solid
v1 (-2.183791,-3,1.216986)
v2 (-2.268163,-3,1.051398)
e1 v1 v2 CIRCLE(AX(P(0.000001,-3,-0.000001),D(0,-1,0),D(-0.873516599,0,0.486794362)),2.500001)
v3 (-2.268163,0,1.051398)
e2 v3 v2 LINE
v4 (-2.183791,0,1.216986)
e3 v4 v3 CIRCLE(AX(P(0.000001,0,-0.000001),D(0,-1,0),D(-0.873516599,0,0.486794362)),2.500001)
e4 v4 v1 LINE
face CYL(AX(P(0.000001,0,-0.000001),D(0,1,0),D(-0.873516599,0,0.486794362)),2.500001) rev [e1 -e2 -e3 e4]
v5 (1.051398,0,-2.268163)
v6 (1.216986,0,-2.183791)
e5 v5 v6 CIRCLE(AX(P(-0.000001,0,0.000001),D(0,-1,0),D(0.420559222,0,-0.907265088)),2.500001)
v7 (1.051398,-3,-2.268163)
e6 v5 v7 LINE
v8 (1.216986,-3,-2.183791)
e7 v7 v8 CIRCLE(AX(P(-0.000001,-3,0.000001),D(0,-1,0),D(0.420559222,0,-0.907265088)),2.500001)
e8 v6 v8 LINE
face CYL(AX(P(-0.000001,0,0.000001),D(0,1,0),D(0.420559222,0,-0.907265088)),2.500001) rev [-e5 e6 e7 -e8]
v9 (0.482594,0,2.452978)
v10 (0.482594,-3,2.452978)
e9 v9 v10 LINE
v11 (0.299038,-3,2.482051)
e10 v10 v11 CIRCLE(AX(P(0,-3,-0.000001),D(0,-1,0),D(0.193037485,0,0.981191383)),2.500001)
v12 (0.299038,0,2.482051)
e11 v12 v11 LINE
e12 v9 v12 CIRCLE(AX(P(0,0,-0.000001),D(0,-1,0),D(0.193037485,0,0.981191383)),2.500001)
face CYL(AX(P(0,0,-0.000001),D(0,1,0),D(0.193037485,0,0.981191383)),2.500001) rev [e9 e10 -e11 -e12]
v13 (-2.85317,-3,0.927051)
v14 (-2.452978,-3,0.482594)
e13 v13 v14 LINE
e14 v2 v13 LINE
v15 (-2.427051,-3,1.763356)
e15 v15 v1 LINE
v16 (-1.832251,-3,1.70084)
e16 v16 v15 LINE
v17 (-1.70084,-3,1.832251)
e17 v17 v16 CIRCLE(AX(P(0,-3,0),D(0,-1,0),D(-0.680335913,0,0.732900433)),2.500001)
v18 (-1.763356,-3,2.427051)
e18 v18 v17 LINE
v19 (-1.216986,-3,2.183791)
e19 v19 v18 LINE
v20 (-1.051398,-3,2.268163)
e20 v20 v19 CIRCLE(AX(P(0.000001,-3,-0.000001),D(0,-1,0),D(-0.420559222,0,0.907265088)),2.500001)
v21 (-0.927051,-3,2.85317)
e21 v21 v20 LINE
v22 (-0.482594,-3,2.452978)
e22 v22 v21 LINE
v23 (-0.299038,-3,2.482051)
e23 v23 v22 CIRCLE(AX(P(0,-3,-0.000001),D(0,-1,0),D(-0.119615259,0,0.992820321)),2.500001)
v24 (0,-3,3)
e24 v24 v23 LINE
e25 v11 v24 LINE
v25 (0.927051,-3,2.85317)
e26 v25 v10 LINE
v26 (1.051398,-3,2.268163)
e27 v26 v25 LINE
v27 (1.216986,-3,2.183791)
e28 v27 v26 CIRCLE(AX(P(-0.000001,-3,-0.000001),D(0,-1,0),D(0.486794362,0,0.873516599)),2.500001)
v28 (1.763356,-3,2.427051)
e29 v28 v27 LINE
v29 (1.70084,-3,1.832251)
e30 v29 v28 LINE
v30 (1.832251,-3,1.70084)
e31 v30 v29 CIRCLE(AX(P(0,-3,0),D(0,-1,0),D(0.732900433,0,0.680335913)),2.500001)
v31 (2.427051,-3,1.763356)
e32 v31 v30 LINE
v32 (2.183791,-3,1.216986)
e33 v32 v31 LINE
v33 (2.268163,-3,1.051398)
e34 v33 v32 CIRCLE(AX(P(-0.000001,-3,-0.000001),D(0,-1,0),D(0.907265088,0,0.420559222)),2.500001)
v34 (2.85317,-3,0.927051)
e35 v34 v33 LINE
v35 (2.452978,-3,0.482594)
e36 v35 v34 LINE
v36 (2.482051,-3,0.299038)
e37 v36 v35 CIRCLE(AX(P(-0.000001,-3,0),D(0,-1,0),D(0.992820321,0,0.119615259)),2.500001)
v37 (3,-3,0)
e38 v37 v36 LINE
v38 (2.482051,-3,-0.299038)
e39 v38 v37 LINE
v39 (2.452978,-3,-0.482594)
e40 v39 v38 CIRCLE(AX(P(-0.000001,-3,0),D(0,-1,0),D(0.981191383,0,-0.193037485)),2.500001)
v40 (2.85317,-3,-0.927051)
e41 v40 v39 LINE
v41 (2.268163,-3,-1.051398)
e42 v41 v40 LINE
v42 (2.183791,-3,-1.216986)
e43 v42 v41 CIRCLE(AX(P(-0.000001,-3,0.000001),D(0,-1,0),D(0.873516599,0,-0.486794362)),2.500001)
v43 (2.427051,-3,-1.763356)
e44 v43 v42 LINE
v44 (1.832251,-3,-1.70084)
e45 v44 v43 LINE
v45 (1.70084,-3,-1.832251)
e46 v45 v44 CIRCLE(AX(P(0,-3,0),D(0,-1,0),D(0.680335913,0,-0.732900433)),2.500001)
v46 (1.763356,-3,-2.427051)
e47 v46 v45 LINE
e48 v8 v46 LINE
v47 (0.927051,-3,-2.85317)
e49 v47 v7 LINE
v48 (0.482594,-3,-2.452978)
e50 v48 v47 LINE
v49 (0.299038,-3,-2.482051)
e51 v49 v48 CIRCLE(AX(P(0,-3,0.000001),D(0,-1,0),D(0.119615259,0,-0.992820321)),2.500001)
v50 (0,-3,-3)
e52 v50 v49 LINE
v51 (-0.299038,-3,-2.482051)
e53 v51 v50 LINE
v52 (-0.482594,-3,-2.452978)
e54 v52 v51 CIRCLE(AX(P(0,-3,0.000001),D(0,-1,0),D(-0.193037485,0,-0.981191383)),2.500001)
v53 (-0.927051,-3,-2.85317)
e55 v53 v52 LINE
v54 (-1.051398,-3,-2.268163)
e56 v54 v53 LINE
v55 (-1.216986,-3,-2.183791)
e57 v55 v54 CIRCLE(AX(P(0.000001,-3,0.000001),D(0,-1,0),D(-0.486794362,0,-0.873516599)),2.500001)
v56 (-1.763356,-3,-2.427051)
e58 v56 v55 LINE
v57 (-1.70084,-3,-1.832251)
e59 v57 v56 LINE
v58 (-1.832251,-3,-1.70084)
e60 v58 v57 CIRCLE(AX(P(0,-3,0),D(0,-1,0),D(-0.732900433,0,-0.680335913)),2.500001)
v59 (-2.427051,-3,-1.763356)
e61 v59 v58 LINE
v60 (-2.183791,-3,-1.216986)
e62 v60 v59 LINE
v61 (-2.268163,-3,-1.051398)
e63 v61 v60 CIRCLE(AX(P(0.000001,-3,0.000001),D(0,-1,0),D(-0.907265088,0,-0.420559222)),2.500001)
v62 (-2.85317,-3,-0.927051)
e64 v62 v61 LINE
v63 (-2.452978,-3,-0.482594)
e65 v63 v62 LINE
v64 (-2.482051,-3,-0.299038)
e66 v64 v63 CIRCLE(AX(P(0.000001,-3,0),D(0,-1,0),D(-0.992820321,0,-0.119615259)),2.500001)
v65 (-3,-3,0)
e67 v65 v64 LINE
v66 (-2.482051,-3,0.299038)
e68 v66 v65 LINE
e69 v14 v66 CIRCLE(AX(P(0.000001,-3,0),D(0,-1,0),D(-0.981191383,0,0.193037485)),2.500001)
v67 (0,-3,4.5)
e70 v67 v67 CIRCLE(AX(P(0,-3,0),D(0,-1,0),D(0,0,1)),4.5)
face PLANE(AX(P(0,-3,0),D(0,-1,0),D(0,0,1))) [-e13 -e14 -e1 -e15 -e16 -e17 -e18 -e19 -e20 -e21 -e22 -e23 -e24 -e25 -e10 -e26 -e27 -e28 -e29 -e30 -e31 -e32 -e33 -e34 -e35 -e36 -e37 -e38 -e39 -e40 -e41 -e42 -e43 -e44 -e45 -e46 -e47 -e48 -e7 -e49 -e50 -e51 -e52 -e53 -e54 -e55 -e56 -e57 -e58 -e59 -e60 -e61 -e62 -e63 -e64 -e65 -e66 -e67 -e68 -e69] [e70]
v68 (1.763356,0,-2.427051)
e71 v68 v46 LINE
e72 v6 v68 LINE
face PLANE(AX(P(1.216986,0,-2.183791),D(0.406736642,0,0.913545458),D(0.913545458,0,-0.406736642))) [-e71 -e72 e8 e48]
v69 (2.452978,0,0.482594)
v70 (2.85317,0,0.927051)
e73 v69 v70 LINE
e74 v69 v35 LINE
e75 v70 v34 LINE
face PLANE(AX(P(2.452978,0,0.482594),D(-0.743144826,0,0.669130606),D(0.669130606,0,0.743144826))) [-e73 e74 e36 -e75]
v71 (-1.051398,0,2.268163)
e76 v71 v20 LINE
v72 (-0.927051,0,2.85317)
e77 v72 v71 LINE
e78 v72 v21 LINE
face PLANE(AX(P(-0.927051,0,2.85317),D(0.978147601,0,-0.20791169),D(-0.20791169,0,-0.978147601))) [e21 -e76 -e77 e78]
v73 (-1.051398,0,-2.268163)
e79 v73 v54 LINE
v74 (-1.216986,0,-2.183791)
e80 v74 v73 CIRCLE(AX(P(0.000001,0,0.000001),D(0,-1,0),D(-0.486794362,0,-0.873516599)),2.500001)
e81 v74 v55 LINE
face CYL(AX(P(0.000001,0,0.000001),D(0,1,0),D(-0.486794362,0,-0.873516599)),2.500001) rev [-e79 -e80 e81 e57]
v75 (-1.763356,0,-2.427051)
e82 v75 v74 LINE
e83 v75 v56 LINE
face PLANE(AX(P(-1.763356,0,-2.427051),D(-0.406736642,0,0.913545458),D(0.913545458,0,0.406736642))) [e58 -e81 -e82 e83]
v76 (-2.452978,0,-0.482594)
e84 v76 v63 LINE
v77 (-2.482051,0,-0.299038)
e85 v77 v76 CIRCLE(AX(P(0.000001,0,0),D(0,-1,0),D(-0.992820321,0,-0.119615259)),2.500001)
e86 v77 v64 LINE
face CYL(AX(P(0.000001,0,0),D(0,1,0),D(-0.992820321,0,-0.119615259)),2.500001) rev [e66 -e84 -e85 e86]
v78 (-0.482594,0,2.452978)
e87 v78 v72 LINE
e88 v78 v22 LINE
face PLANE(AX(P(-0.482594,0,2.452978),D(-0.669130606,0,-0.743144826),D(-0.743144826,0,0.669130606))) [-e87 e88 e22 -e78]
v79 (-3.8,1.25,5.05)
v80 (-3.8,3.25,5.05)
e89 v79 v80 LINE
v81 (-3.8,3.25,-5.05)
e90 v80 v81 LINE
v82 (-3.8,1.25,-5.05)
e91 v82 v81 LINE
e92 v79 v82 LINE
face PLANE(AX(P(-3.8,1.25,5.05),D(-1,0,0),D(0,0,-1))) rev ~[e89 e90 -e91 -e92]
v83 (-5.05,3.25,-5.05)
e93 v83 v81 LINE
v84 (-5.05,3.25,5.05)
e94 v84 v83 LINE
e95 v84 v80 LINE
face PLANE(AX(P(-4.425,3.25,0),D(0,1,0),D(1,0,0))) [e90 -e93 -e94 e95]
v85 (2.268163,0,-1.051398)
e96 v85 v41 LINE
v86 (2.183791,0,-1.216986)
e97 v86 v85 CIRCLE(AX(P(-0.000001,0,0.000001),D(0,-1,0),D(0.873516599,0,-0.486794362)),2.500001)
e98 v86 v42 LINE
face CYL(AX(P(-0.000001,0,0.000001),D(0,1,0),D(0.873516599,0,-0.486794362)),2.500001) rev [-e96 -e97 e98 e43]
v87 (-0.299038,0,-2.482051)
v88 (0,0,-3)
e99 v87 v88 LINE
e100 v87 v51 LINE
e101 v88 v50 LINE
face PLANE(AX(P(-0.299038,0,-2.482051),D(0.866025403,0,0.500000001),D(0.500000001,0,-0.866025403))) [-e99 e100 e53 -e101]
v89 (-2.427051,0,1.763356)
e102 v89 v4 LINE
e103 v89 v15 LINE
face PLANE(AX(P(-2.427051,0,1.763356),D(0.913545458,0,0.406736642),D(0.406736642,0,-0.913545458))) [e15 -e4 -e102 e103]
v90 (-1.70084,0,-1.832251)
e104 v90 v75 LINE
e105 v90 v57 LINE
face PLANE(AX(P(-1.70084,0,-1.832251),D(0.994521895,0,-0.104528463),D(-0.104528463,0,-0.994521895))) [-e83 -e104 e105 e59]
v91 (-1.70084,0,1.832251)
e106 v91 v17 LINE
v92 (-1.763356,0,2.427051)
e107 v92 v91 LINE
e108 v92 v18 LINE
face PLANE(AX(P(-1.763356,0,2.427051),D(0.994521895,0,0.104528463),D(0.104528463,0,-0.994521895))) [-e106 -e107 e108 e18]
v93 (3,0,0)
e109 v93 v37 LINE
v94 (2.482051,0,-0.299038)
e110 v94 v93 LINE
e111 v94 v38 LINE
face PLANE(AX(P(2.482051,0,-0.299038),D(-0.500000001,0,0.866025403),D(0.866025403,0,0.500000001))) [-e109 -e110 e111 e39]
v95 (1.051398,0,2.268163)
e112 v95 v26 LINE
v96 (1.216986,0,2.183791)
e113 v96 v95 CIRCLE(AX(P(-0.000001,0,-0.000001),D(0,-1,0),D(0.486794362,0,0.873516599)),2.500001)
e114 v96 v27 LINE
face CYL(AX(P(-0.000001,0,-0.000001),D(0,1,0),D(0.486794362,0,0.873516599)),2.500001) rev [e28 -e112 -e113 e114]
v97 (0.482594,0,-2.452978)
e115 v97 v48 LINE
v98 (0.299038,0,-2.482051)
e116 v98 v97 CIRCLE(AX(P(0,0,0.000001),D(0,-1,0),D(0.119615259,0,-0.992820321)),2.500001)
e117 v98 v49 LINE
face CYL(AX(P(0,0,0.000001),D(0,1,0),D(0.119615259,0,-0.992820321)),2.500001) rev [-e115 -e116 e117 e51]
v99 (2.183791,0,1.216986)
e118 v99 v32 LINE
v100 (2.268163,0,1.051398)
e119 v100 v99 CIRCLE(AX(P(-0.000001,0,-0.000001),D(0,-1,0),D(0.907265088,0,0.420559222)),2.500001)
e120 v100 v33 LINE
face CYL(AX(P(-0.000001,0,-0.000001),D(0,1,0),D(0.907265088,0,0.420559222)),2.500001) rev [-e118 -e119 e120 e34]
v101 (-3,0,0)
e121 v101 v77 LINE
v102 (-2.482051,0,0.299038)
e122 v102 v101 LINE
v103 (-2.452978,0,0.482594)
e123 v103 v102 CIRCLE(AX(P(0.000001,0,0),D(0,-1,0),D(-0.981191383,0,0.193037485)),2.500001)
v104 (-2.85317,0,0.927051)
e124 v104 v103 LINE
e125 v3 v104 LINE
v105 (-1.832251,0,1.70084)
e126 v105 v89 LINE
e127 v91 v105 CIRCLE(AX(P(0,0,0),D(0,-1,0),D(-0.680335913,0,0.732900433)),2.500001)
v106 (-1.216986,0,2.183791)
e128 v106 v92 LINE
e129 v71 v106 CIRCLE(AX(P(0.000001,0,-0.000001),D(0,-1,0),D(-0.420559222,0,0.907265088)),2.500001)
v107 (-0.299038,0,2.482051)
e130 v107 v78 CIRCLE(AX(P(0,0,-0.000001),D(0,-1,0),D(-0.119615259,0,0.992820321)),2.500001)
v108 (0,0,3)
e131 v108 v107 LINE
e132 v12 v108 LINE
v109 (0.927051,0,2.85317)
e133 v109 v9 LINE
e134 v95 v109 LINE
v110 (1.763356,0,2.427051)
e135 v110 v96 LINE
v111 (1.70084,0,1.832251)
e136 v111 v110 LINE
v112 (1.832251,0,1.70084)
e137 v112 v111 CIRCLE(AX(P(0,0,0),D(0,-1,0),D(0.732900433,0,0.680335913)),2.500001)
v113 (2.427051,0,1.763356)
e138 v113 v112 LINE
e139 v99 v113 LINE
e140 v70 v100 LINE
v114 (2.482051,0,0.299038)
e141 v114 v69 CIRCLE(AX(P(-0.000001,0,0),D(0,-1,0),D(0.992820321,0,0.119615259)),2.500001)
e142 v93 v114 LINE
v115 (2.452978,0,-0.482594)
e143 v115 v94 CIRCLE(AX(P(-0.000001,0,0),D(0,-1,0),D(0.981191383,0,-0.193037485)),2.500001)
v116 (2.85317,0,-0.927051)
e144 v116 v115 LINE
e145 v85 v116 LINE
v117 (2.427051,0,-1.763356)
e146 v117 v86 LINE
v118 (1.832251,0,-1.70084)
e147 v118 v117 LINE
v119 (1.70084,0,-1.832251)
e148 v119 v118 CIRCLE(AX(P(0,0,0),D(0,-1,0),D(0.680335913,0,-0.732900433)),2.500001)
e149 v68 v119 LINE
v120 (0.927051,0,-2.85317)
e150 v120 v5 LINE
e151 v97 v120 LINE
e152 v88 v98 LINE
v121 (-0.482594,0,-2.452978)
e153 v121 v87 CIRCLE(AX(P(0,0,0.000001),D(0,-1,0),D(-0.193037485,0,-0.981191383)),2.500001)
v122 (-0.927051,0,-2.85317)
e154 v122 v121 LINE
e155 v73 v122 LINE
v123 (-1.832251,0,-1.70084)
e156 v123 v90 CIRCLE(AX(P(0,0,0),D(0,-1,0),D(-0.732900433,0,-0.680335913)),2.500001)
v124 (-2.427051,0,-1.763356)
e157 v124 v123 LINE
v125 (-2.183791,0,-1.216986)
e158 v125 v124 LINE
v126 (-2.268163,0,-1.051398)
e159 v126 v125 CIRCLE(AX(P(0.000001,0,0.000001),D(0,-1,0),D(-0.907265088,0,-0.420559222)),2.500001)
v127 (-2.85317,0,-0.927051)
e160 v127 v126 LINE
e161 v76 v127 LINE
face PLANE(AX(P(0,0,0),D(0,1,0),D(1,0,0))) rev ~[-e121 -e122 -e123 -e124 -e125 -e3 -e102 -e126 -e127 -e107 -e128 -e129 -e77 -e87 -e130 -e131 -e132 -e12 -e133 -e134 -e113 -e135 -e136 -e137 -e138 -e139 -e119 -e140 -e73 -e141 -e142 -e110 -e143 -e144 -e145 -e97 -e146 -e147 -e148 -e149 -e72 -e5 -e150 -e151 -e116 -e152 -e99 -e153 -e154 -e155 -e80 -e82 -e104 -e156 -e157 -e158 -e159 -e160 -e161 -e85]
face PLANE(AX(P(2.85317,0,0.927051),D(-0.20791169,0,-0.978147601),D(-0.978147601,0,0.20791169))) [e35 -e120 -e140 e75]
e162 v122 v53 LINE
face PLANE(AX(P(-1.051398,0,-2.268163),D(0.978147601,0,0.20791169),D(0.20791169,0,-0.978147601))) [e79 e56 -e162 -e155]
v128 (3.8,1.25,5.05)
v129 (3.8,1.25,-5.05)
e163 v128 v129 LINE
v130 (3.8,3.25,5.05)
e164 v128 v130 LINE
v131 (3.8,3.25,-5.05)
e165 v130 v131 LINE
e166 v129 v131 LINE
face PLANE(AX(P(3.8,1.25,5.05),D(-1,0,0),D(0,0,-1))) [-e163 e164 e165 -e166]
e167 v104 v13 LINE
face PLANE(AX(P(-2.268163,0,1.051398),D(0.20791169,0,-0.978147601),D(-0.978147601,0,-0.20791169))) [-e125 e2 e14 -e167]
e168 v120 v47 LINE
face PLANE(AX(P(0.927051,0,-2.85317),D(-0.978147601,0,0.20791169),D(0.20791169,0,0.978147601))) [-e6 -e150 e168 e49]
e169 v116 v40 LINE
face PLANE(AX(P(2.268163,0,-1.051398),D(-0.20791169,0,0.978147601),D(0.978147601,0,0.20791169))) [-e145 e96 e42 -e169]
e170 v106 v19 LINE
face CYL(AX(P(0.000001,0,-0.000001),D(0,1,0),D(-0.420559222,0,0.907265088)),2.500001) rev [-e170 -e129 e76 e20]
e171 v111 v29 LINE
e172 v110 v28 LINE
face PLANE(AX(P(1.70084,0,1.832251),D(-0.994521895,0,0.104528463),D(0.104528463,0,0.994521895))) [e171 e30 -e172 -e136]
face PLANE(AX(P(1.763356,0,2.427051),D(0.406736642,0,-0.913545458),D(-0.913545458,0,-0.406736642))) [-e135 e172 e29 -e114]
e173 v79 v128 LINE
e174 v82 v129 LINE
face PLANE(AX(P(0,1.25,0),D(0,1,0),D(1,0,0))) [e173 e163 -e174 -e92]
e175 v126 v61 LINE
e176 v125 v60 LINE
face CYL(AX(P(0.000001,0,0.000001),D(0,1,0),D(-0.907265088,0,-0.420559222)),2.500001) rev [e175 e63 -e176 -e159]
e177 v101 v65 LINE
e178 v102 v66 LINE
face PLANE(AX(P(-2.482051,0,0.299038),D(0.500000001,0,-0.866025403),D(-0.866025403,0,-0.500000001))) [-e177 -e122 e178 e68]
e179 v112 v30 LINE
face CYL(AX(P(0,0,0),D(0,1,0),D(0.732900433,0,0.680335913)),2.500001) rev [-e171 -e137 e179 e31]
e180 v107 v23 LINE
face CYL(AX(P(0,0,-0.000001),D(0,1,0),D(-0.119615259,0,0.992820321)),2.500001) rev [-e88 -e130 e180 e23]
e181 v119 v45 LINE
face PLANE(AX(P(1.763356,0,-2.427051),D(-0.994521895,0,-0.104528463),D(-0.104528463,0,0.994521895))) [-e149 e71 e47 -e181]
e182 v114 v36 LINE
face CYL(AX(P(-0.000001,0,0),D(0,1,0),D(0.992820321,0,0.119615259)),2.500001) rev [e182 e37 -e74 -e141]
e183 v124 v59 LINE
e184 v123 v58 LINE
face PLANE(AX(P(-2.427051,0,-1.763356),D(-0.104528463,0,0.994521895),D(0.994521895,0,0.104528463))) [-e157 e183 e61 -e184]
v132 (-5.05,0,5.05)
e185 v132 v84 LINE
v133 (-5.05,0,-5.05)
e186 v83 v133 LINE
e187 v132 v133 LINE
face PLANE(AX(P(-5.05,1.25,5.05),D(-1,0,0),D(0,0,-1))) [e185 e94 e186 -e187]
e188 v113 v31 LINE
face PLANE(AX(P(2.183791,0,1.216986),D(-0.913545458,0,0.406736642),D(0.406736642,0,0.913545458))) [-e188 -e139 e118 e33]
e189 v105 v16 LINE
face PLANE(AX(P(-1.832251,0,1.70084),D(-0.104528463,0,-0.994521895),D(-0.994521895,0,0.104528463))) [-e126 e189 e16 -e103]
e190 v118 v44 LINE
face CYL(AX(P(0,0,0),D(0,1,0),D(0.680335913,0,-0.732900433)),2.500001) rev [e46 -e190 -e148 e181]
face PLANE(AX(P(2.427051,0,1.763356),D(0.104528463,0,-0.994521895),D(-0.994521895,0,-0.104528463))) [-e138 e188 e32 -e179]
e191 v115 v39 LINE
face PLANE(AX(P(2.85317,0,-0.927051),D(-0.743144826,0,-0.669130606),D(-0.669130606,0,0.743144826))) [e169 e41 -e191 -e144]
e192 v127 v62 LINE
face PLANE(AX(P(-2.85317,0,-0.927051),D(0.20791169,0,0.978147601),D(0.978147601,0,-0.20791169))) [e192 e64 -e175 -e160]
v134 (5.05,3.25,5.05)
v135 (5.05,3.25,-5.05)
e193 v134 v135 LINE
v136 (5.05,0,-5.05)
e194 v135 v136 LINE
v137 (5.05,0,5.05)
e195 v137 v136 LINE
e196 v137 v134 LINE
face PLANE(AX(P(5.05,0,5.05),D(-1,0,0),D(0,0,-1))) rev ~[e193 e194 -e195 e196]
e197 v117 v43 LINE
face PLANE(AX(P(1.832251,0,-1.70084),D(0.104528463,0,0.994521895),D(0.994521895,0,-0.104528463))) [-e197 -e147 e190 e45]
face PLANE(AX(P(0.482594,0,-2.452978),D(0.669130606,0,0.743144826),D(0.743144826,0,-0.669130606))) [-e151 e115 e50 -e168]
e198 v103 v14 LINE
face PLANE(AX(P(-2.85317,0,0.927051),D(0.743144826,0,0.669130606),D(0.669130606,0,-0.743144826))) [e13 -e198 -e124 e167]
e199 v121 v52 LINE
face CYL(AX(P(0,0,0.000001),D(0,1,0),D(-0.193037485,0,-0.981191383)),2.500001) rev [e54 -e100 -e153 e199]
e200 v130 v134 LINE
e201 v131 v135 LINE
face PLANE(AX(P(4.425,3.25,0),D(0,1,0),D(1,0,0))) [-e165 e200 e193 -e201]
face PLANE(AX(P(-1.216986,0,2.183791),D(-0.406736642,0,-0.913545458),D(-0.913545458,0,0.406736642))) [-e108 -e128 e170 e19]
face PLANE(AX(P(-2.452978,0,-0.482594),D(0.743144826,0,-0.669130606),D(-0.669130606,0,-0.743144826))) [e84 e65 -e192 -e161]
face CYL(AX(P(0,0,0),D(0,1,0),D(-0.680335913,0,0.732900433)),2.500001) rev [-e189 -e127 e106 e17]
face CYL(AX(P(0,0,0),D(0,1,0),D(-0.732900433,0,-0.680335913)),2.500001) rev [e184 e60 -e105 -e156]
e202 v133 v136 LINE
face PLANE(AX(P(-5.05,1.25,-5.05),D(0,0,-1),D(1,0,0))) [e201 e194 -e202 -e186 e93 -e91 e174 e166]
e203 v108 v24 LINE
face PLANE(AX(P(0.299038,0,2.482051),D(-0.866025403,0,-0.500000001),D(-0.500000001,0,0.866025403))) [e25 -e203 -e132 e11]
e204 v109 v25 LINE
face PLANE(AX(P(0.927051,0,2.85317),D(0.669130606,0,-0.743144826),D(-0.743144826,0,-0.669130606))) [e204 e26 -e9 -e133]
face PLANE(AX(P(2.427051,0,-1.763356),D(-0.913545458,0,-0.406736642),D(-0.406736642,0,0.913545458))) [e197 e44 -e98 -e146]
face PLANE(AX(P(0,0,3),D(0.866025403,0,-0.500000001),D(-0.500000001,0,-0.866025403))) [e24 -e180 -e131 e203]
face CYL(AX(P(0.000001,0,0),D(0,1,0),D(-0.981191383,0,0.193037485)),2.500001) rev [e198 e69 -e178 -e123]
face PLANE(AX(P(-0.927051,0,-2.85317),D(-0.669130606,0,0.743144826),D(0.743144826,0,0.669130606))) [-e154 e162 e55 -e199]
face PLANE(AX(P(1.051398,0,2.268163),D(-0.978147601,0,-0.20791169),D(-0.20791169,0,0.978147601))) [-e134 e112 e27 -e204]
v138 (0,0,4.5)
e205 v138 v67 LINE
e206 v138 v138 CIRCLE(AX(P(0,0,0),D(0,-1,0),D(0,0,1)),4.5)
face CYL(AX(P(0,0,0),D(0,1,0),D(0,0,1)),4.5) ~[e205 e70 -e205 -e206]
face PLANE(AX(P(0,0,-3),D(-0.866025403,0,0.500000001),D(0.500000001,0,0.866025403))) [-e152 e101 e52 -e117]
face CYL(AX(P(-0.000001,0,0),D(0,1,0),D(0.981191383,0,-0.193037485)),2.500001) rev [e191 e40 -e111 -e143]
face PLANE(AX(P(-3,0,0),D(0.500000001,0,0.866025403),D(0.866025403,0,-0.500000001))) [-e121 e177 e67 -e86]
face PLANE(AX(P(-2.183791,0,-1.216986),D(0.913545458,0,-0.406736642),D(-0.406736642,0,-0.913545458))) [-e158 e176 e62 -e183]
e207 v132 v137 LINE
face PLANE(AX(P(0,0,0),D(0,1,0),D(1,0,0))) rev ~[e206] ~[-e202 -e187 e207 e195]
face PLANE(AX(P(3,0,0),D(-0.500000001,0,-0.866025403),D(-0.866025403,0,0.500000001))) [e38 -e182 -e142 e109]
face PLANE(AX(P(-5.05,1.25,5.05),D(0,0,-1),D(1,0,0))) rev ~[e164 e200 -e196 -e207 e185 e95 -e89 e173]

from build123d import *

# Parameters (mm, degrees)
SKETCH1_R           = 0.5
SKETCH1_R_2         = 1.375
BOSS_EXTRUDE1_DEPTH = 2
SKETCH4_R           = 4.5
SKETCH4_R_2         = 2.5
BOSS_EXTRUDE3_DEPTH = 3
CUT_EXTRUDE3_START  = -3
CUT_EXTRUDE3_DEPTH  = 3
SKETCH6_W           = 34.029642768
SKETCH6_H           = 33.796563024
CUT_EXTRUDE4_DEPTH  = 22.43595111
SKETCH7_W           = 10.1
SKETCH7_H           = 10.1
BOSS_EXTRUDE4_DEPTH = 1.25
SKETCH8_W           = 1.25
SKETCH8_H           = 10.1
BOSS_EXTRUDE5_DEPTH = 2


with BuildPart() as part:
    # Sketch1 → Boss-Extrude1 (new body)
    with BuildSketch(Plane(origin=(0, 0, 0), x_dir=(1, 0, 0), z_dir=(0, 1, 0))):
        with BuildLine():
            Line((-4, 4), (-2.467435953, 13.402193757))
            ThreePointArc((-2.467435953, 13.402193757), (0, 15.5), (2.467435953, 13.402193757))
            Line((2.467435953, 13.402193757), (4, 4))
            Line((4, 4), (12.448472752, 2.459445505))
            ThreePointArc((12.448472752, 2.459445505), (14.5, 0), (12.448472752, -2.459445505))
            Line((12.448472752, -2.459445505), (4, -4))
            Line((4, -4), (2.467435953, -13.402193757))
            ThreePointArc((2.467435953, -13.402193757), (0, -15.5), (-2.467435953, -13.402193757))
            Line((-2.467435953, -13.402193757), (-4, -4))
            Line((-4, -4), (-12.448472752, -2.459445505))
            ThreePointArc((-12.448472752, -2.459445505), (-14.5, 0), (-12.448472752, 2.459445505))
            Line((-12.448472752, 2.459445505), (-4, 4))
        make_face()
        with Locations(Location((0, 12, 0), (0, 0, 270))):
            Circle(SKETCH1_R, mode=Mode.SUBTRACT)
        with Locations(Location((0, 9.5, 0), (0, 0, 270))):
            Circle(SKETCH1_R, mode=Mode.SUBTRACT)
        with Locations(Location((0, 7.5, 0), (0, 0, 270))):
            Circle(SKETCH1_R, mode=Mode.SUBTRACT)
        with Locations(Location((12, 0, 0), (0, 0, 270))):
            Circle(SKETCH1_R, mode=Mode.SUBTRACT)
        with Locations(Location((9.5, 0, 0), (0, 0, 270))):
            Circle(SKETCH1_R, mode=Mode.SUBTRACT)
        with Locations(Location((7.5, 0, 0), (0, 0, 270))):
            Circle(SKETCH1_R, mode=Mode.SUBTRACT)
        with Locations(Location((0, -12, 0), (0, 0, 270))):
            Circle(SKETCH1_R, mode=Mode.SUBTRACT)
        with Locations(Location((0, -9.5, 0), (0, 0, 270))):
            Circle(SKETCH1_R, mode=Mode.SUBTRACT)
        with Locations(Location((0, -7.5, 0), (0, 0, 270))):
            Circle(SKETCH1_R, mode=Mode.SUBTRACT)
        with Locations(Location((-12, 0, 0), (0, 0, 270))):
            Circle(SKETCH1_R, mode=Mode.SUBTRACT)
        with Locations(Location((-9.5, 0, 0), (0, 0, 270))):
            Circle(SKETCH1_R, mode=Mode.SUBTRACT)
        with Locations(Location((-7.5, 0, 0), (0, 0, 270))):
            Circle(SKETCH1_R, mode=Mode.SUBTRACT)
        with Locations(Location((0, 0, 0), (0, 0, 270))):
            Circle(SKETCH1_R_2, mode=Mode.SUBTRACT)
    extrude(amount=BOSS_EXTRUDE1_DEPTH)

    # Sketch4 → Boss-Extrude3 (add)
    with BuildSketch(Plane.XZ):
        with Locations(Location((0, 0, 0), (0, 0, 90))):
            Circle(SKETCH4_R)
        with Locations(Location((0, 0, 0), (0, 0, 270))):
            Circle(SKETCH4_R_2, mode=Mode.SUBTRACT)
    extrude(amount=BOSS_EXTRUDE3_DEPTH)

    # Sketch5 → Cut-Extrude3 (cut)
    with BuildSketch(Plane.XZ.offset(3).offset(CUT_EXTRUDE3_START)):
        with BuildLine():
            Line((0.299038106, 2.482050808), (0, 3))
            Line((0, 3), (-0.299038106, 2.482050808))
            ThreePointArc((-0.299038106, 2.482050808), (-0.391086163, 2.469220851), (-0.482593741, 2.452978451))
            Line((-0.482593741, 2.452978451), (-0.927050983, 2.853169549))
            Line((-0.927050983, 2.853169549), (-1.051398019, 2.268162738))
            ThreePointArc((-1.051398019, 2.268162738), (-1.134976249, 2.22751631), (-1.216985951, 2.183791473))
            Line((-1.216985951, 2.183791473), (-1.763355757, 2.427050983))
            Line((-1.763355757, 2.427050983), (-1.70083977, 1.832251096))
            ThreePointArc((-1.70083977, 1.832251096), (-1.767766953, 1.767766953), (-1.832251096, 1.70083977))
            Line((-1.832251096, 1.70083977), (-2.427050983, 1.763355757))
            Line((-2.427050983, 1.763355757), (-2.183791473, 1.216985951))
            ThreePointArc((-2.183791473, 1.216985951), (-2.22751631, 1.134976249), (-2.268162738, 1.051398019))
            Line((-2.268162738, 1.051398019), (-2.853169549, 0.927050983))
            Line((-2.853169549, 0.927050983), (-2.452978451, 0.482593741))
            ThreePointArc((-2.452978451, 0.482593741), (-2.469220851, 0.391086163), (-2.482050808, 0.299038106))
            Line((-2.482050808, 0.299038106), (-3, 0))
            Line((-3, 0), (-2.482050808, -0.299038106))
            ThreePointArc((-2.482050808, -0.299038106), (-2.469220851, -0.391086163), (-2.452978451, -0.482593741))
            Line((-2.452978451, -0.482593741), (-2.853169549, -0.927050983))
            Line((-2.853169549, -0.927050983), (-2.268162738, -1.051398019))
            ThreePointArc((-2.268162738, -1.051398019), (-2.22751631, -1.134976249), (-2.183791473, -1.216985951))
            Line((-2.183791473, -1.216985951), (-2.427050983, -1.763355757))
            Line((-2.427050983, -1.763355757), (-1.832251096, -1.70083977))
            ThreePointArc((-1.832251096, -1.70083977), (-1.767766953, -1.767766953), (-1.70083977, -1.832251096))
            Line((-1.70083977, -1.832251096), (-1.763355757, -2.427050983))
            Line((-1.763355757, -2.427050983), (-1.216985951, -2.183791473))
            ThreePointArc((-1.216985951, -2.183791473), (-1.134976249, -2.22751631), (-1.051398019, -2.268162738))
            Line((-1.051398019, -2.268162738), (-0.927050983, -2.853169549))
            Line((-0.927050983, -2.853169549), (-0.482593741, -2.452978451))
            ThreePointArc((-0.482593741, -2.452978451), (-0.391086163, -2.469220851), (-0.299038106, -2.482050808))
            Line((-0.299038106, -2.482050808), (0, -3))
            Line((0, -3), (0.299038106, -2.482050808))
            ThreePointArc((0.299038106, -2.482050808), (0.391086163, -2.469220851), (0.482593741, -2.452978451))
            Line((0.482593741, -2.452978451), (0.927050983, -2.853169549))
            Line((0.927050983, -2.853169549), (1.051398019, -2.268162738))
            ThreePointArc((1.051398019, -2.268162738), (1.134976249, -2.22751631), (1.216985951, -2.183791473))
            Line((1.216985951, -2.183791473), (1.763355757, -2.427050983))
            Line((1.763355757, -2.427050983), (1.70083977, -1.832251096))
            ThreePointArc((1.70083977, -1.832251096), (1.767766953, -1.767766953), (1.832251096, -1.70083977))
            Line((1.832251096, -1.70083977), (2.427050983, -1.763355757))
            Line((2.427050983, -1.763355757), (2.183791473, -1.216985951))
            ThreePointArc((2.183791473, -1.216985951), (2.22751631, -1.134976249), (2.268162738, -1.051398019))
            Line((2.268162738, -1.051398019), (2.853169549, -0.927050983))
            Line((2.853169549, -0.927050983), (2.452978451, -0.482593741))
            ThreePointArc((2.452978451, -0.482593741), (2.469220851, -0.391086163), (2.482050808, -0.299038106))
            Line((2.482050808, -0.299038106), (3, 0))
            Line((3, 0), (2.482050808, 0.299038106))
            ThreePointArc((2.482050808, 0.299038106), (2.469220851, 0.391086163), (2.452978451, 0.482593741))
            Line((2.452978451, 0.482593741), (2.853169549, 0.927050983))
            Line((2.853169549, 0.927050983), (2.268162738, 1.051398019))
            ThreePointArc((2.268162738, 1.051398019), (2.22751631, 1.134976249), (2.183791473, 1.216985951))
            Line((2.183791473, 1.216985951), (2.427050983, 1.763355757))
            Line((2.427050983, 1.763355757), (1.832251096, 1.70083977))
            ThreePointArc((1.832251096, 1.70083977), (1.767766953, 1.767766953), (1.70083977, 1.832251096))
            Line((1.70083977, 1.832251096), (1.763355757, 2.427050983))
            Line((1.763355757, 2.427050983), (1.216985951, 2.183791473))
            ThreePointArc((1.216985951, 2.183791473), (1.134976249, 2.22751631), (1.051398019, 2.268162738))
            Line((1.051398019, 2.268162738), (0.927050983, 2.853169549))
            Line((0.927050983, 2.853169549), (0.482593741, 2.452978451))
            ThreePointArc((0.482593741, 2.452978451), (0.391086163, 2.469220851), (0.299038106, 2.482050808))
        make_face()
    extrude(amount=CUT_EXTRUDE3_DEPTH, mode=Mode.SUBTRACT)

    # Sketch6 → Cut-Extrude4 (cut, through all)
    with BuildSketch(Plane(origin=(0, 0, 0), x_dir=(-1, 0, 0), z_dir=(0, -1, 0))):
        Rectangle(SKETCH6_W, SKETCH6_H)
    extrude(amount=-CUT_EXTRUDE4_DEPTH, mode=Mode.SUBTRACT)

    # Sketch7 → Boss-Extrude4 (add)
    with BuildSketch(Plane(origin=(0, 0, 0), x_dir=(1, 0, 0), z_dir=(0, 1, 0))):
        Rectangle(SKETCH7_W, SKETCH7_H)
    extrude(amount=BOSS_EXTRUDE4_DEPTH)

    # Sketch8 → Boss-Extrude5 (add)
    with BuildSketch(Plane(origin=(0, 1.25, 0), x_dir=(1, 0, 0), z_dir=(0, 1, 0))):
        with Locations((-4.425, 0)):
            Rectangle(SKETCH8_W, SKETCH8_H)
        with Locations((4.425, 0)):
            Rectangle(SKETCH8_W, SKETCH8_H)
    extrude(amount=BOSS_EXTRUDE5_DEPTH)


solid = part.part
